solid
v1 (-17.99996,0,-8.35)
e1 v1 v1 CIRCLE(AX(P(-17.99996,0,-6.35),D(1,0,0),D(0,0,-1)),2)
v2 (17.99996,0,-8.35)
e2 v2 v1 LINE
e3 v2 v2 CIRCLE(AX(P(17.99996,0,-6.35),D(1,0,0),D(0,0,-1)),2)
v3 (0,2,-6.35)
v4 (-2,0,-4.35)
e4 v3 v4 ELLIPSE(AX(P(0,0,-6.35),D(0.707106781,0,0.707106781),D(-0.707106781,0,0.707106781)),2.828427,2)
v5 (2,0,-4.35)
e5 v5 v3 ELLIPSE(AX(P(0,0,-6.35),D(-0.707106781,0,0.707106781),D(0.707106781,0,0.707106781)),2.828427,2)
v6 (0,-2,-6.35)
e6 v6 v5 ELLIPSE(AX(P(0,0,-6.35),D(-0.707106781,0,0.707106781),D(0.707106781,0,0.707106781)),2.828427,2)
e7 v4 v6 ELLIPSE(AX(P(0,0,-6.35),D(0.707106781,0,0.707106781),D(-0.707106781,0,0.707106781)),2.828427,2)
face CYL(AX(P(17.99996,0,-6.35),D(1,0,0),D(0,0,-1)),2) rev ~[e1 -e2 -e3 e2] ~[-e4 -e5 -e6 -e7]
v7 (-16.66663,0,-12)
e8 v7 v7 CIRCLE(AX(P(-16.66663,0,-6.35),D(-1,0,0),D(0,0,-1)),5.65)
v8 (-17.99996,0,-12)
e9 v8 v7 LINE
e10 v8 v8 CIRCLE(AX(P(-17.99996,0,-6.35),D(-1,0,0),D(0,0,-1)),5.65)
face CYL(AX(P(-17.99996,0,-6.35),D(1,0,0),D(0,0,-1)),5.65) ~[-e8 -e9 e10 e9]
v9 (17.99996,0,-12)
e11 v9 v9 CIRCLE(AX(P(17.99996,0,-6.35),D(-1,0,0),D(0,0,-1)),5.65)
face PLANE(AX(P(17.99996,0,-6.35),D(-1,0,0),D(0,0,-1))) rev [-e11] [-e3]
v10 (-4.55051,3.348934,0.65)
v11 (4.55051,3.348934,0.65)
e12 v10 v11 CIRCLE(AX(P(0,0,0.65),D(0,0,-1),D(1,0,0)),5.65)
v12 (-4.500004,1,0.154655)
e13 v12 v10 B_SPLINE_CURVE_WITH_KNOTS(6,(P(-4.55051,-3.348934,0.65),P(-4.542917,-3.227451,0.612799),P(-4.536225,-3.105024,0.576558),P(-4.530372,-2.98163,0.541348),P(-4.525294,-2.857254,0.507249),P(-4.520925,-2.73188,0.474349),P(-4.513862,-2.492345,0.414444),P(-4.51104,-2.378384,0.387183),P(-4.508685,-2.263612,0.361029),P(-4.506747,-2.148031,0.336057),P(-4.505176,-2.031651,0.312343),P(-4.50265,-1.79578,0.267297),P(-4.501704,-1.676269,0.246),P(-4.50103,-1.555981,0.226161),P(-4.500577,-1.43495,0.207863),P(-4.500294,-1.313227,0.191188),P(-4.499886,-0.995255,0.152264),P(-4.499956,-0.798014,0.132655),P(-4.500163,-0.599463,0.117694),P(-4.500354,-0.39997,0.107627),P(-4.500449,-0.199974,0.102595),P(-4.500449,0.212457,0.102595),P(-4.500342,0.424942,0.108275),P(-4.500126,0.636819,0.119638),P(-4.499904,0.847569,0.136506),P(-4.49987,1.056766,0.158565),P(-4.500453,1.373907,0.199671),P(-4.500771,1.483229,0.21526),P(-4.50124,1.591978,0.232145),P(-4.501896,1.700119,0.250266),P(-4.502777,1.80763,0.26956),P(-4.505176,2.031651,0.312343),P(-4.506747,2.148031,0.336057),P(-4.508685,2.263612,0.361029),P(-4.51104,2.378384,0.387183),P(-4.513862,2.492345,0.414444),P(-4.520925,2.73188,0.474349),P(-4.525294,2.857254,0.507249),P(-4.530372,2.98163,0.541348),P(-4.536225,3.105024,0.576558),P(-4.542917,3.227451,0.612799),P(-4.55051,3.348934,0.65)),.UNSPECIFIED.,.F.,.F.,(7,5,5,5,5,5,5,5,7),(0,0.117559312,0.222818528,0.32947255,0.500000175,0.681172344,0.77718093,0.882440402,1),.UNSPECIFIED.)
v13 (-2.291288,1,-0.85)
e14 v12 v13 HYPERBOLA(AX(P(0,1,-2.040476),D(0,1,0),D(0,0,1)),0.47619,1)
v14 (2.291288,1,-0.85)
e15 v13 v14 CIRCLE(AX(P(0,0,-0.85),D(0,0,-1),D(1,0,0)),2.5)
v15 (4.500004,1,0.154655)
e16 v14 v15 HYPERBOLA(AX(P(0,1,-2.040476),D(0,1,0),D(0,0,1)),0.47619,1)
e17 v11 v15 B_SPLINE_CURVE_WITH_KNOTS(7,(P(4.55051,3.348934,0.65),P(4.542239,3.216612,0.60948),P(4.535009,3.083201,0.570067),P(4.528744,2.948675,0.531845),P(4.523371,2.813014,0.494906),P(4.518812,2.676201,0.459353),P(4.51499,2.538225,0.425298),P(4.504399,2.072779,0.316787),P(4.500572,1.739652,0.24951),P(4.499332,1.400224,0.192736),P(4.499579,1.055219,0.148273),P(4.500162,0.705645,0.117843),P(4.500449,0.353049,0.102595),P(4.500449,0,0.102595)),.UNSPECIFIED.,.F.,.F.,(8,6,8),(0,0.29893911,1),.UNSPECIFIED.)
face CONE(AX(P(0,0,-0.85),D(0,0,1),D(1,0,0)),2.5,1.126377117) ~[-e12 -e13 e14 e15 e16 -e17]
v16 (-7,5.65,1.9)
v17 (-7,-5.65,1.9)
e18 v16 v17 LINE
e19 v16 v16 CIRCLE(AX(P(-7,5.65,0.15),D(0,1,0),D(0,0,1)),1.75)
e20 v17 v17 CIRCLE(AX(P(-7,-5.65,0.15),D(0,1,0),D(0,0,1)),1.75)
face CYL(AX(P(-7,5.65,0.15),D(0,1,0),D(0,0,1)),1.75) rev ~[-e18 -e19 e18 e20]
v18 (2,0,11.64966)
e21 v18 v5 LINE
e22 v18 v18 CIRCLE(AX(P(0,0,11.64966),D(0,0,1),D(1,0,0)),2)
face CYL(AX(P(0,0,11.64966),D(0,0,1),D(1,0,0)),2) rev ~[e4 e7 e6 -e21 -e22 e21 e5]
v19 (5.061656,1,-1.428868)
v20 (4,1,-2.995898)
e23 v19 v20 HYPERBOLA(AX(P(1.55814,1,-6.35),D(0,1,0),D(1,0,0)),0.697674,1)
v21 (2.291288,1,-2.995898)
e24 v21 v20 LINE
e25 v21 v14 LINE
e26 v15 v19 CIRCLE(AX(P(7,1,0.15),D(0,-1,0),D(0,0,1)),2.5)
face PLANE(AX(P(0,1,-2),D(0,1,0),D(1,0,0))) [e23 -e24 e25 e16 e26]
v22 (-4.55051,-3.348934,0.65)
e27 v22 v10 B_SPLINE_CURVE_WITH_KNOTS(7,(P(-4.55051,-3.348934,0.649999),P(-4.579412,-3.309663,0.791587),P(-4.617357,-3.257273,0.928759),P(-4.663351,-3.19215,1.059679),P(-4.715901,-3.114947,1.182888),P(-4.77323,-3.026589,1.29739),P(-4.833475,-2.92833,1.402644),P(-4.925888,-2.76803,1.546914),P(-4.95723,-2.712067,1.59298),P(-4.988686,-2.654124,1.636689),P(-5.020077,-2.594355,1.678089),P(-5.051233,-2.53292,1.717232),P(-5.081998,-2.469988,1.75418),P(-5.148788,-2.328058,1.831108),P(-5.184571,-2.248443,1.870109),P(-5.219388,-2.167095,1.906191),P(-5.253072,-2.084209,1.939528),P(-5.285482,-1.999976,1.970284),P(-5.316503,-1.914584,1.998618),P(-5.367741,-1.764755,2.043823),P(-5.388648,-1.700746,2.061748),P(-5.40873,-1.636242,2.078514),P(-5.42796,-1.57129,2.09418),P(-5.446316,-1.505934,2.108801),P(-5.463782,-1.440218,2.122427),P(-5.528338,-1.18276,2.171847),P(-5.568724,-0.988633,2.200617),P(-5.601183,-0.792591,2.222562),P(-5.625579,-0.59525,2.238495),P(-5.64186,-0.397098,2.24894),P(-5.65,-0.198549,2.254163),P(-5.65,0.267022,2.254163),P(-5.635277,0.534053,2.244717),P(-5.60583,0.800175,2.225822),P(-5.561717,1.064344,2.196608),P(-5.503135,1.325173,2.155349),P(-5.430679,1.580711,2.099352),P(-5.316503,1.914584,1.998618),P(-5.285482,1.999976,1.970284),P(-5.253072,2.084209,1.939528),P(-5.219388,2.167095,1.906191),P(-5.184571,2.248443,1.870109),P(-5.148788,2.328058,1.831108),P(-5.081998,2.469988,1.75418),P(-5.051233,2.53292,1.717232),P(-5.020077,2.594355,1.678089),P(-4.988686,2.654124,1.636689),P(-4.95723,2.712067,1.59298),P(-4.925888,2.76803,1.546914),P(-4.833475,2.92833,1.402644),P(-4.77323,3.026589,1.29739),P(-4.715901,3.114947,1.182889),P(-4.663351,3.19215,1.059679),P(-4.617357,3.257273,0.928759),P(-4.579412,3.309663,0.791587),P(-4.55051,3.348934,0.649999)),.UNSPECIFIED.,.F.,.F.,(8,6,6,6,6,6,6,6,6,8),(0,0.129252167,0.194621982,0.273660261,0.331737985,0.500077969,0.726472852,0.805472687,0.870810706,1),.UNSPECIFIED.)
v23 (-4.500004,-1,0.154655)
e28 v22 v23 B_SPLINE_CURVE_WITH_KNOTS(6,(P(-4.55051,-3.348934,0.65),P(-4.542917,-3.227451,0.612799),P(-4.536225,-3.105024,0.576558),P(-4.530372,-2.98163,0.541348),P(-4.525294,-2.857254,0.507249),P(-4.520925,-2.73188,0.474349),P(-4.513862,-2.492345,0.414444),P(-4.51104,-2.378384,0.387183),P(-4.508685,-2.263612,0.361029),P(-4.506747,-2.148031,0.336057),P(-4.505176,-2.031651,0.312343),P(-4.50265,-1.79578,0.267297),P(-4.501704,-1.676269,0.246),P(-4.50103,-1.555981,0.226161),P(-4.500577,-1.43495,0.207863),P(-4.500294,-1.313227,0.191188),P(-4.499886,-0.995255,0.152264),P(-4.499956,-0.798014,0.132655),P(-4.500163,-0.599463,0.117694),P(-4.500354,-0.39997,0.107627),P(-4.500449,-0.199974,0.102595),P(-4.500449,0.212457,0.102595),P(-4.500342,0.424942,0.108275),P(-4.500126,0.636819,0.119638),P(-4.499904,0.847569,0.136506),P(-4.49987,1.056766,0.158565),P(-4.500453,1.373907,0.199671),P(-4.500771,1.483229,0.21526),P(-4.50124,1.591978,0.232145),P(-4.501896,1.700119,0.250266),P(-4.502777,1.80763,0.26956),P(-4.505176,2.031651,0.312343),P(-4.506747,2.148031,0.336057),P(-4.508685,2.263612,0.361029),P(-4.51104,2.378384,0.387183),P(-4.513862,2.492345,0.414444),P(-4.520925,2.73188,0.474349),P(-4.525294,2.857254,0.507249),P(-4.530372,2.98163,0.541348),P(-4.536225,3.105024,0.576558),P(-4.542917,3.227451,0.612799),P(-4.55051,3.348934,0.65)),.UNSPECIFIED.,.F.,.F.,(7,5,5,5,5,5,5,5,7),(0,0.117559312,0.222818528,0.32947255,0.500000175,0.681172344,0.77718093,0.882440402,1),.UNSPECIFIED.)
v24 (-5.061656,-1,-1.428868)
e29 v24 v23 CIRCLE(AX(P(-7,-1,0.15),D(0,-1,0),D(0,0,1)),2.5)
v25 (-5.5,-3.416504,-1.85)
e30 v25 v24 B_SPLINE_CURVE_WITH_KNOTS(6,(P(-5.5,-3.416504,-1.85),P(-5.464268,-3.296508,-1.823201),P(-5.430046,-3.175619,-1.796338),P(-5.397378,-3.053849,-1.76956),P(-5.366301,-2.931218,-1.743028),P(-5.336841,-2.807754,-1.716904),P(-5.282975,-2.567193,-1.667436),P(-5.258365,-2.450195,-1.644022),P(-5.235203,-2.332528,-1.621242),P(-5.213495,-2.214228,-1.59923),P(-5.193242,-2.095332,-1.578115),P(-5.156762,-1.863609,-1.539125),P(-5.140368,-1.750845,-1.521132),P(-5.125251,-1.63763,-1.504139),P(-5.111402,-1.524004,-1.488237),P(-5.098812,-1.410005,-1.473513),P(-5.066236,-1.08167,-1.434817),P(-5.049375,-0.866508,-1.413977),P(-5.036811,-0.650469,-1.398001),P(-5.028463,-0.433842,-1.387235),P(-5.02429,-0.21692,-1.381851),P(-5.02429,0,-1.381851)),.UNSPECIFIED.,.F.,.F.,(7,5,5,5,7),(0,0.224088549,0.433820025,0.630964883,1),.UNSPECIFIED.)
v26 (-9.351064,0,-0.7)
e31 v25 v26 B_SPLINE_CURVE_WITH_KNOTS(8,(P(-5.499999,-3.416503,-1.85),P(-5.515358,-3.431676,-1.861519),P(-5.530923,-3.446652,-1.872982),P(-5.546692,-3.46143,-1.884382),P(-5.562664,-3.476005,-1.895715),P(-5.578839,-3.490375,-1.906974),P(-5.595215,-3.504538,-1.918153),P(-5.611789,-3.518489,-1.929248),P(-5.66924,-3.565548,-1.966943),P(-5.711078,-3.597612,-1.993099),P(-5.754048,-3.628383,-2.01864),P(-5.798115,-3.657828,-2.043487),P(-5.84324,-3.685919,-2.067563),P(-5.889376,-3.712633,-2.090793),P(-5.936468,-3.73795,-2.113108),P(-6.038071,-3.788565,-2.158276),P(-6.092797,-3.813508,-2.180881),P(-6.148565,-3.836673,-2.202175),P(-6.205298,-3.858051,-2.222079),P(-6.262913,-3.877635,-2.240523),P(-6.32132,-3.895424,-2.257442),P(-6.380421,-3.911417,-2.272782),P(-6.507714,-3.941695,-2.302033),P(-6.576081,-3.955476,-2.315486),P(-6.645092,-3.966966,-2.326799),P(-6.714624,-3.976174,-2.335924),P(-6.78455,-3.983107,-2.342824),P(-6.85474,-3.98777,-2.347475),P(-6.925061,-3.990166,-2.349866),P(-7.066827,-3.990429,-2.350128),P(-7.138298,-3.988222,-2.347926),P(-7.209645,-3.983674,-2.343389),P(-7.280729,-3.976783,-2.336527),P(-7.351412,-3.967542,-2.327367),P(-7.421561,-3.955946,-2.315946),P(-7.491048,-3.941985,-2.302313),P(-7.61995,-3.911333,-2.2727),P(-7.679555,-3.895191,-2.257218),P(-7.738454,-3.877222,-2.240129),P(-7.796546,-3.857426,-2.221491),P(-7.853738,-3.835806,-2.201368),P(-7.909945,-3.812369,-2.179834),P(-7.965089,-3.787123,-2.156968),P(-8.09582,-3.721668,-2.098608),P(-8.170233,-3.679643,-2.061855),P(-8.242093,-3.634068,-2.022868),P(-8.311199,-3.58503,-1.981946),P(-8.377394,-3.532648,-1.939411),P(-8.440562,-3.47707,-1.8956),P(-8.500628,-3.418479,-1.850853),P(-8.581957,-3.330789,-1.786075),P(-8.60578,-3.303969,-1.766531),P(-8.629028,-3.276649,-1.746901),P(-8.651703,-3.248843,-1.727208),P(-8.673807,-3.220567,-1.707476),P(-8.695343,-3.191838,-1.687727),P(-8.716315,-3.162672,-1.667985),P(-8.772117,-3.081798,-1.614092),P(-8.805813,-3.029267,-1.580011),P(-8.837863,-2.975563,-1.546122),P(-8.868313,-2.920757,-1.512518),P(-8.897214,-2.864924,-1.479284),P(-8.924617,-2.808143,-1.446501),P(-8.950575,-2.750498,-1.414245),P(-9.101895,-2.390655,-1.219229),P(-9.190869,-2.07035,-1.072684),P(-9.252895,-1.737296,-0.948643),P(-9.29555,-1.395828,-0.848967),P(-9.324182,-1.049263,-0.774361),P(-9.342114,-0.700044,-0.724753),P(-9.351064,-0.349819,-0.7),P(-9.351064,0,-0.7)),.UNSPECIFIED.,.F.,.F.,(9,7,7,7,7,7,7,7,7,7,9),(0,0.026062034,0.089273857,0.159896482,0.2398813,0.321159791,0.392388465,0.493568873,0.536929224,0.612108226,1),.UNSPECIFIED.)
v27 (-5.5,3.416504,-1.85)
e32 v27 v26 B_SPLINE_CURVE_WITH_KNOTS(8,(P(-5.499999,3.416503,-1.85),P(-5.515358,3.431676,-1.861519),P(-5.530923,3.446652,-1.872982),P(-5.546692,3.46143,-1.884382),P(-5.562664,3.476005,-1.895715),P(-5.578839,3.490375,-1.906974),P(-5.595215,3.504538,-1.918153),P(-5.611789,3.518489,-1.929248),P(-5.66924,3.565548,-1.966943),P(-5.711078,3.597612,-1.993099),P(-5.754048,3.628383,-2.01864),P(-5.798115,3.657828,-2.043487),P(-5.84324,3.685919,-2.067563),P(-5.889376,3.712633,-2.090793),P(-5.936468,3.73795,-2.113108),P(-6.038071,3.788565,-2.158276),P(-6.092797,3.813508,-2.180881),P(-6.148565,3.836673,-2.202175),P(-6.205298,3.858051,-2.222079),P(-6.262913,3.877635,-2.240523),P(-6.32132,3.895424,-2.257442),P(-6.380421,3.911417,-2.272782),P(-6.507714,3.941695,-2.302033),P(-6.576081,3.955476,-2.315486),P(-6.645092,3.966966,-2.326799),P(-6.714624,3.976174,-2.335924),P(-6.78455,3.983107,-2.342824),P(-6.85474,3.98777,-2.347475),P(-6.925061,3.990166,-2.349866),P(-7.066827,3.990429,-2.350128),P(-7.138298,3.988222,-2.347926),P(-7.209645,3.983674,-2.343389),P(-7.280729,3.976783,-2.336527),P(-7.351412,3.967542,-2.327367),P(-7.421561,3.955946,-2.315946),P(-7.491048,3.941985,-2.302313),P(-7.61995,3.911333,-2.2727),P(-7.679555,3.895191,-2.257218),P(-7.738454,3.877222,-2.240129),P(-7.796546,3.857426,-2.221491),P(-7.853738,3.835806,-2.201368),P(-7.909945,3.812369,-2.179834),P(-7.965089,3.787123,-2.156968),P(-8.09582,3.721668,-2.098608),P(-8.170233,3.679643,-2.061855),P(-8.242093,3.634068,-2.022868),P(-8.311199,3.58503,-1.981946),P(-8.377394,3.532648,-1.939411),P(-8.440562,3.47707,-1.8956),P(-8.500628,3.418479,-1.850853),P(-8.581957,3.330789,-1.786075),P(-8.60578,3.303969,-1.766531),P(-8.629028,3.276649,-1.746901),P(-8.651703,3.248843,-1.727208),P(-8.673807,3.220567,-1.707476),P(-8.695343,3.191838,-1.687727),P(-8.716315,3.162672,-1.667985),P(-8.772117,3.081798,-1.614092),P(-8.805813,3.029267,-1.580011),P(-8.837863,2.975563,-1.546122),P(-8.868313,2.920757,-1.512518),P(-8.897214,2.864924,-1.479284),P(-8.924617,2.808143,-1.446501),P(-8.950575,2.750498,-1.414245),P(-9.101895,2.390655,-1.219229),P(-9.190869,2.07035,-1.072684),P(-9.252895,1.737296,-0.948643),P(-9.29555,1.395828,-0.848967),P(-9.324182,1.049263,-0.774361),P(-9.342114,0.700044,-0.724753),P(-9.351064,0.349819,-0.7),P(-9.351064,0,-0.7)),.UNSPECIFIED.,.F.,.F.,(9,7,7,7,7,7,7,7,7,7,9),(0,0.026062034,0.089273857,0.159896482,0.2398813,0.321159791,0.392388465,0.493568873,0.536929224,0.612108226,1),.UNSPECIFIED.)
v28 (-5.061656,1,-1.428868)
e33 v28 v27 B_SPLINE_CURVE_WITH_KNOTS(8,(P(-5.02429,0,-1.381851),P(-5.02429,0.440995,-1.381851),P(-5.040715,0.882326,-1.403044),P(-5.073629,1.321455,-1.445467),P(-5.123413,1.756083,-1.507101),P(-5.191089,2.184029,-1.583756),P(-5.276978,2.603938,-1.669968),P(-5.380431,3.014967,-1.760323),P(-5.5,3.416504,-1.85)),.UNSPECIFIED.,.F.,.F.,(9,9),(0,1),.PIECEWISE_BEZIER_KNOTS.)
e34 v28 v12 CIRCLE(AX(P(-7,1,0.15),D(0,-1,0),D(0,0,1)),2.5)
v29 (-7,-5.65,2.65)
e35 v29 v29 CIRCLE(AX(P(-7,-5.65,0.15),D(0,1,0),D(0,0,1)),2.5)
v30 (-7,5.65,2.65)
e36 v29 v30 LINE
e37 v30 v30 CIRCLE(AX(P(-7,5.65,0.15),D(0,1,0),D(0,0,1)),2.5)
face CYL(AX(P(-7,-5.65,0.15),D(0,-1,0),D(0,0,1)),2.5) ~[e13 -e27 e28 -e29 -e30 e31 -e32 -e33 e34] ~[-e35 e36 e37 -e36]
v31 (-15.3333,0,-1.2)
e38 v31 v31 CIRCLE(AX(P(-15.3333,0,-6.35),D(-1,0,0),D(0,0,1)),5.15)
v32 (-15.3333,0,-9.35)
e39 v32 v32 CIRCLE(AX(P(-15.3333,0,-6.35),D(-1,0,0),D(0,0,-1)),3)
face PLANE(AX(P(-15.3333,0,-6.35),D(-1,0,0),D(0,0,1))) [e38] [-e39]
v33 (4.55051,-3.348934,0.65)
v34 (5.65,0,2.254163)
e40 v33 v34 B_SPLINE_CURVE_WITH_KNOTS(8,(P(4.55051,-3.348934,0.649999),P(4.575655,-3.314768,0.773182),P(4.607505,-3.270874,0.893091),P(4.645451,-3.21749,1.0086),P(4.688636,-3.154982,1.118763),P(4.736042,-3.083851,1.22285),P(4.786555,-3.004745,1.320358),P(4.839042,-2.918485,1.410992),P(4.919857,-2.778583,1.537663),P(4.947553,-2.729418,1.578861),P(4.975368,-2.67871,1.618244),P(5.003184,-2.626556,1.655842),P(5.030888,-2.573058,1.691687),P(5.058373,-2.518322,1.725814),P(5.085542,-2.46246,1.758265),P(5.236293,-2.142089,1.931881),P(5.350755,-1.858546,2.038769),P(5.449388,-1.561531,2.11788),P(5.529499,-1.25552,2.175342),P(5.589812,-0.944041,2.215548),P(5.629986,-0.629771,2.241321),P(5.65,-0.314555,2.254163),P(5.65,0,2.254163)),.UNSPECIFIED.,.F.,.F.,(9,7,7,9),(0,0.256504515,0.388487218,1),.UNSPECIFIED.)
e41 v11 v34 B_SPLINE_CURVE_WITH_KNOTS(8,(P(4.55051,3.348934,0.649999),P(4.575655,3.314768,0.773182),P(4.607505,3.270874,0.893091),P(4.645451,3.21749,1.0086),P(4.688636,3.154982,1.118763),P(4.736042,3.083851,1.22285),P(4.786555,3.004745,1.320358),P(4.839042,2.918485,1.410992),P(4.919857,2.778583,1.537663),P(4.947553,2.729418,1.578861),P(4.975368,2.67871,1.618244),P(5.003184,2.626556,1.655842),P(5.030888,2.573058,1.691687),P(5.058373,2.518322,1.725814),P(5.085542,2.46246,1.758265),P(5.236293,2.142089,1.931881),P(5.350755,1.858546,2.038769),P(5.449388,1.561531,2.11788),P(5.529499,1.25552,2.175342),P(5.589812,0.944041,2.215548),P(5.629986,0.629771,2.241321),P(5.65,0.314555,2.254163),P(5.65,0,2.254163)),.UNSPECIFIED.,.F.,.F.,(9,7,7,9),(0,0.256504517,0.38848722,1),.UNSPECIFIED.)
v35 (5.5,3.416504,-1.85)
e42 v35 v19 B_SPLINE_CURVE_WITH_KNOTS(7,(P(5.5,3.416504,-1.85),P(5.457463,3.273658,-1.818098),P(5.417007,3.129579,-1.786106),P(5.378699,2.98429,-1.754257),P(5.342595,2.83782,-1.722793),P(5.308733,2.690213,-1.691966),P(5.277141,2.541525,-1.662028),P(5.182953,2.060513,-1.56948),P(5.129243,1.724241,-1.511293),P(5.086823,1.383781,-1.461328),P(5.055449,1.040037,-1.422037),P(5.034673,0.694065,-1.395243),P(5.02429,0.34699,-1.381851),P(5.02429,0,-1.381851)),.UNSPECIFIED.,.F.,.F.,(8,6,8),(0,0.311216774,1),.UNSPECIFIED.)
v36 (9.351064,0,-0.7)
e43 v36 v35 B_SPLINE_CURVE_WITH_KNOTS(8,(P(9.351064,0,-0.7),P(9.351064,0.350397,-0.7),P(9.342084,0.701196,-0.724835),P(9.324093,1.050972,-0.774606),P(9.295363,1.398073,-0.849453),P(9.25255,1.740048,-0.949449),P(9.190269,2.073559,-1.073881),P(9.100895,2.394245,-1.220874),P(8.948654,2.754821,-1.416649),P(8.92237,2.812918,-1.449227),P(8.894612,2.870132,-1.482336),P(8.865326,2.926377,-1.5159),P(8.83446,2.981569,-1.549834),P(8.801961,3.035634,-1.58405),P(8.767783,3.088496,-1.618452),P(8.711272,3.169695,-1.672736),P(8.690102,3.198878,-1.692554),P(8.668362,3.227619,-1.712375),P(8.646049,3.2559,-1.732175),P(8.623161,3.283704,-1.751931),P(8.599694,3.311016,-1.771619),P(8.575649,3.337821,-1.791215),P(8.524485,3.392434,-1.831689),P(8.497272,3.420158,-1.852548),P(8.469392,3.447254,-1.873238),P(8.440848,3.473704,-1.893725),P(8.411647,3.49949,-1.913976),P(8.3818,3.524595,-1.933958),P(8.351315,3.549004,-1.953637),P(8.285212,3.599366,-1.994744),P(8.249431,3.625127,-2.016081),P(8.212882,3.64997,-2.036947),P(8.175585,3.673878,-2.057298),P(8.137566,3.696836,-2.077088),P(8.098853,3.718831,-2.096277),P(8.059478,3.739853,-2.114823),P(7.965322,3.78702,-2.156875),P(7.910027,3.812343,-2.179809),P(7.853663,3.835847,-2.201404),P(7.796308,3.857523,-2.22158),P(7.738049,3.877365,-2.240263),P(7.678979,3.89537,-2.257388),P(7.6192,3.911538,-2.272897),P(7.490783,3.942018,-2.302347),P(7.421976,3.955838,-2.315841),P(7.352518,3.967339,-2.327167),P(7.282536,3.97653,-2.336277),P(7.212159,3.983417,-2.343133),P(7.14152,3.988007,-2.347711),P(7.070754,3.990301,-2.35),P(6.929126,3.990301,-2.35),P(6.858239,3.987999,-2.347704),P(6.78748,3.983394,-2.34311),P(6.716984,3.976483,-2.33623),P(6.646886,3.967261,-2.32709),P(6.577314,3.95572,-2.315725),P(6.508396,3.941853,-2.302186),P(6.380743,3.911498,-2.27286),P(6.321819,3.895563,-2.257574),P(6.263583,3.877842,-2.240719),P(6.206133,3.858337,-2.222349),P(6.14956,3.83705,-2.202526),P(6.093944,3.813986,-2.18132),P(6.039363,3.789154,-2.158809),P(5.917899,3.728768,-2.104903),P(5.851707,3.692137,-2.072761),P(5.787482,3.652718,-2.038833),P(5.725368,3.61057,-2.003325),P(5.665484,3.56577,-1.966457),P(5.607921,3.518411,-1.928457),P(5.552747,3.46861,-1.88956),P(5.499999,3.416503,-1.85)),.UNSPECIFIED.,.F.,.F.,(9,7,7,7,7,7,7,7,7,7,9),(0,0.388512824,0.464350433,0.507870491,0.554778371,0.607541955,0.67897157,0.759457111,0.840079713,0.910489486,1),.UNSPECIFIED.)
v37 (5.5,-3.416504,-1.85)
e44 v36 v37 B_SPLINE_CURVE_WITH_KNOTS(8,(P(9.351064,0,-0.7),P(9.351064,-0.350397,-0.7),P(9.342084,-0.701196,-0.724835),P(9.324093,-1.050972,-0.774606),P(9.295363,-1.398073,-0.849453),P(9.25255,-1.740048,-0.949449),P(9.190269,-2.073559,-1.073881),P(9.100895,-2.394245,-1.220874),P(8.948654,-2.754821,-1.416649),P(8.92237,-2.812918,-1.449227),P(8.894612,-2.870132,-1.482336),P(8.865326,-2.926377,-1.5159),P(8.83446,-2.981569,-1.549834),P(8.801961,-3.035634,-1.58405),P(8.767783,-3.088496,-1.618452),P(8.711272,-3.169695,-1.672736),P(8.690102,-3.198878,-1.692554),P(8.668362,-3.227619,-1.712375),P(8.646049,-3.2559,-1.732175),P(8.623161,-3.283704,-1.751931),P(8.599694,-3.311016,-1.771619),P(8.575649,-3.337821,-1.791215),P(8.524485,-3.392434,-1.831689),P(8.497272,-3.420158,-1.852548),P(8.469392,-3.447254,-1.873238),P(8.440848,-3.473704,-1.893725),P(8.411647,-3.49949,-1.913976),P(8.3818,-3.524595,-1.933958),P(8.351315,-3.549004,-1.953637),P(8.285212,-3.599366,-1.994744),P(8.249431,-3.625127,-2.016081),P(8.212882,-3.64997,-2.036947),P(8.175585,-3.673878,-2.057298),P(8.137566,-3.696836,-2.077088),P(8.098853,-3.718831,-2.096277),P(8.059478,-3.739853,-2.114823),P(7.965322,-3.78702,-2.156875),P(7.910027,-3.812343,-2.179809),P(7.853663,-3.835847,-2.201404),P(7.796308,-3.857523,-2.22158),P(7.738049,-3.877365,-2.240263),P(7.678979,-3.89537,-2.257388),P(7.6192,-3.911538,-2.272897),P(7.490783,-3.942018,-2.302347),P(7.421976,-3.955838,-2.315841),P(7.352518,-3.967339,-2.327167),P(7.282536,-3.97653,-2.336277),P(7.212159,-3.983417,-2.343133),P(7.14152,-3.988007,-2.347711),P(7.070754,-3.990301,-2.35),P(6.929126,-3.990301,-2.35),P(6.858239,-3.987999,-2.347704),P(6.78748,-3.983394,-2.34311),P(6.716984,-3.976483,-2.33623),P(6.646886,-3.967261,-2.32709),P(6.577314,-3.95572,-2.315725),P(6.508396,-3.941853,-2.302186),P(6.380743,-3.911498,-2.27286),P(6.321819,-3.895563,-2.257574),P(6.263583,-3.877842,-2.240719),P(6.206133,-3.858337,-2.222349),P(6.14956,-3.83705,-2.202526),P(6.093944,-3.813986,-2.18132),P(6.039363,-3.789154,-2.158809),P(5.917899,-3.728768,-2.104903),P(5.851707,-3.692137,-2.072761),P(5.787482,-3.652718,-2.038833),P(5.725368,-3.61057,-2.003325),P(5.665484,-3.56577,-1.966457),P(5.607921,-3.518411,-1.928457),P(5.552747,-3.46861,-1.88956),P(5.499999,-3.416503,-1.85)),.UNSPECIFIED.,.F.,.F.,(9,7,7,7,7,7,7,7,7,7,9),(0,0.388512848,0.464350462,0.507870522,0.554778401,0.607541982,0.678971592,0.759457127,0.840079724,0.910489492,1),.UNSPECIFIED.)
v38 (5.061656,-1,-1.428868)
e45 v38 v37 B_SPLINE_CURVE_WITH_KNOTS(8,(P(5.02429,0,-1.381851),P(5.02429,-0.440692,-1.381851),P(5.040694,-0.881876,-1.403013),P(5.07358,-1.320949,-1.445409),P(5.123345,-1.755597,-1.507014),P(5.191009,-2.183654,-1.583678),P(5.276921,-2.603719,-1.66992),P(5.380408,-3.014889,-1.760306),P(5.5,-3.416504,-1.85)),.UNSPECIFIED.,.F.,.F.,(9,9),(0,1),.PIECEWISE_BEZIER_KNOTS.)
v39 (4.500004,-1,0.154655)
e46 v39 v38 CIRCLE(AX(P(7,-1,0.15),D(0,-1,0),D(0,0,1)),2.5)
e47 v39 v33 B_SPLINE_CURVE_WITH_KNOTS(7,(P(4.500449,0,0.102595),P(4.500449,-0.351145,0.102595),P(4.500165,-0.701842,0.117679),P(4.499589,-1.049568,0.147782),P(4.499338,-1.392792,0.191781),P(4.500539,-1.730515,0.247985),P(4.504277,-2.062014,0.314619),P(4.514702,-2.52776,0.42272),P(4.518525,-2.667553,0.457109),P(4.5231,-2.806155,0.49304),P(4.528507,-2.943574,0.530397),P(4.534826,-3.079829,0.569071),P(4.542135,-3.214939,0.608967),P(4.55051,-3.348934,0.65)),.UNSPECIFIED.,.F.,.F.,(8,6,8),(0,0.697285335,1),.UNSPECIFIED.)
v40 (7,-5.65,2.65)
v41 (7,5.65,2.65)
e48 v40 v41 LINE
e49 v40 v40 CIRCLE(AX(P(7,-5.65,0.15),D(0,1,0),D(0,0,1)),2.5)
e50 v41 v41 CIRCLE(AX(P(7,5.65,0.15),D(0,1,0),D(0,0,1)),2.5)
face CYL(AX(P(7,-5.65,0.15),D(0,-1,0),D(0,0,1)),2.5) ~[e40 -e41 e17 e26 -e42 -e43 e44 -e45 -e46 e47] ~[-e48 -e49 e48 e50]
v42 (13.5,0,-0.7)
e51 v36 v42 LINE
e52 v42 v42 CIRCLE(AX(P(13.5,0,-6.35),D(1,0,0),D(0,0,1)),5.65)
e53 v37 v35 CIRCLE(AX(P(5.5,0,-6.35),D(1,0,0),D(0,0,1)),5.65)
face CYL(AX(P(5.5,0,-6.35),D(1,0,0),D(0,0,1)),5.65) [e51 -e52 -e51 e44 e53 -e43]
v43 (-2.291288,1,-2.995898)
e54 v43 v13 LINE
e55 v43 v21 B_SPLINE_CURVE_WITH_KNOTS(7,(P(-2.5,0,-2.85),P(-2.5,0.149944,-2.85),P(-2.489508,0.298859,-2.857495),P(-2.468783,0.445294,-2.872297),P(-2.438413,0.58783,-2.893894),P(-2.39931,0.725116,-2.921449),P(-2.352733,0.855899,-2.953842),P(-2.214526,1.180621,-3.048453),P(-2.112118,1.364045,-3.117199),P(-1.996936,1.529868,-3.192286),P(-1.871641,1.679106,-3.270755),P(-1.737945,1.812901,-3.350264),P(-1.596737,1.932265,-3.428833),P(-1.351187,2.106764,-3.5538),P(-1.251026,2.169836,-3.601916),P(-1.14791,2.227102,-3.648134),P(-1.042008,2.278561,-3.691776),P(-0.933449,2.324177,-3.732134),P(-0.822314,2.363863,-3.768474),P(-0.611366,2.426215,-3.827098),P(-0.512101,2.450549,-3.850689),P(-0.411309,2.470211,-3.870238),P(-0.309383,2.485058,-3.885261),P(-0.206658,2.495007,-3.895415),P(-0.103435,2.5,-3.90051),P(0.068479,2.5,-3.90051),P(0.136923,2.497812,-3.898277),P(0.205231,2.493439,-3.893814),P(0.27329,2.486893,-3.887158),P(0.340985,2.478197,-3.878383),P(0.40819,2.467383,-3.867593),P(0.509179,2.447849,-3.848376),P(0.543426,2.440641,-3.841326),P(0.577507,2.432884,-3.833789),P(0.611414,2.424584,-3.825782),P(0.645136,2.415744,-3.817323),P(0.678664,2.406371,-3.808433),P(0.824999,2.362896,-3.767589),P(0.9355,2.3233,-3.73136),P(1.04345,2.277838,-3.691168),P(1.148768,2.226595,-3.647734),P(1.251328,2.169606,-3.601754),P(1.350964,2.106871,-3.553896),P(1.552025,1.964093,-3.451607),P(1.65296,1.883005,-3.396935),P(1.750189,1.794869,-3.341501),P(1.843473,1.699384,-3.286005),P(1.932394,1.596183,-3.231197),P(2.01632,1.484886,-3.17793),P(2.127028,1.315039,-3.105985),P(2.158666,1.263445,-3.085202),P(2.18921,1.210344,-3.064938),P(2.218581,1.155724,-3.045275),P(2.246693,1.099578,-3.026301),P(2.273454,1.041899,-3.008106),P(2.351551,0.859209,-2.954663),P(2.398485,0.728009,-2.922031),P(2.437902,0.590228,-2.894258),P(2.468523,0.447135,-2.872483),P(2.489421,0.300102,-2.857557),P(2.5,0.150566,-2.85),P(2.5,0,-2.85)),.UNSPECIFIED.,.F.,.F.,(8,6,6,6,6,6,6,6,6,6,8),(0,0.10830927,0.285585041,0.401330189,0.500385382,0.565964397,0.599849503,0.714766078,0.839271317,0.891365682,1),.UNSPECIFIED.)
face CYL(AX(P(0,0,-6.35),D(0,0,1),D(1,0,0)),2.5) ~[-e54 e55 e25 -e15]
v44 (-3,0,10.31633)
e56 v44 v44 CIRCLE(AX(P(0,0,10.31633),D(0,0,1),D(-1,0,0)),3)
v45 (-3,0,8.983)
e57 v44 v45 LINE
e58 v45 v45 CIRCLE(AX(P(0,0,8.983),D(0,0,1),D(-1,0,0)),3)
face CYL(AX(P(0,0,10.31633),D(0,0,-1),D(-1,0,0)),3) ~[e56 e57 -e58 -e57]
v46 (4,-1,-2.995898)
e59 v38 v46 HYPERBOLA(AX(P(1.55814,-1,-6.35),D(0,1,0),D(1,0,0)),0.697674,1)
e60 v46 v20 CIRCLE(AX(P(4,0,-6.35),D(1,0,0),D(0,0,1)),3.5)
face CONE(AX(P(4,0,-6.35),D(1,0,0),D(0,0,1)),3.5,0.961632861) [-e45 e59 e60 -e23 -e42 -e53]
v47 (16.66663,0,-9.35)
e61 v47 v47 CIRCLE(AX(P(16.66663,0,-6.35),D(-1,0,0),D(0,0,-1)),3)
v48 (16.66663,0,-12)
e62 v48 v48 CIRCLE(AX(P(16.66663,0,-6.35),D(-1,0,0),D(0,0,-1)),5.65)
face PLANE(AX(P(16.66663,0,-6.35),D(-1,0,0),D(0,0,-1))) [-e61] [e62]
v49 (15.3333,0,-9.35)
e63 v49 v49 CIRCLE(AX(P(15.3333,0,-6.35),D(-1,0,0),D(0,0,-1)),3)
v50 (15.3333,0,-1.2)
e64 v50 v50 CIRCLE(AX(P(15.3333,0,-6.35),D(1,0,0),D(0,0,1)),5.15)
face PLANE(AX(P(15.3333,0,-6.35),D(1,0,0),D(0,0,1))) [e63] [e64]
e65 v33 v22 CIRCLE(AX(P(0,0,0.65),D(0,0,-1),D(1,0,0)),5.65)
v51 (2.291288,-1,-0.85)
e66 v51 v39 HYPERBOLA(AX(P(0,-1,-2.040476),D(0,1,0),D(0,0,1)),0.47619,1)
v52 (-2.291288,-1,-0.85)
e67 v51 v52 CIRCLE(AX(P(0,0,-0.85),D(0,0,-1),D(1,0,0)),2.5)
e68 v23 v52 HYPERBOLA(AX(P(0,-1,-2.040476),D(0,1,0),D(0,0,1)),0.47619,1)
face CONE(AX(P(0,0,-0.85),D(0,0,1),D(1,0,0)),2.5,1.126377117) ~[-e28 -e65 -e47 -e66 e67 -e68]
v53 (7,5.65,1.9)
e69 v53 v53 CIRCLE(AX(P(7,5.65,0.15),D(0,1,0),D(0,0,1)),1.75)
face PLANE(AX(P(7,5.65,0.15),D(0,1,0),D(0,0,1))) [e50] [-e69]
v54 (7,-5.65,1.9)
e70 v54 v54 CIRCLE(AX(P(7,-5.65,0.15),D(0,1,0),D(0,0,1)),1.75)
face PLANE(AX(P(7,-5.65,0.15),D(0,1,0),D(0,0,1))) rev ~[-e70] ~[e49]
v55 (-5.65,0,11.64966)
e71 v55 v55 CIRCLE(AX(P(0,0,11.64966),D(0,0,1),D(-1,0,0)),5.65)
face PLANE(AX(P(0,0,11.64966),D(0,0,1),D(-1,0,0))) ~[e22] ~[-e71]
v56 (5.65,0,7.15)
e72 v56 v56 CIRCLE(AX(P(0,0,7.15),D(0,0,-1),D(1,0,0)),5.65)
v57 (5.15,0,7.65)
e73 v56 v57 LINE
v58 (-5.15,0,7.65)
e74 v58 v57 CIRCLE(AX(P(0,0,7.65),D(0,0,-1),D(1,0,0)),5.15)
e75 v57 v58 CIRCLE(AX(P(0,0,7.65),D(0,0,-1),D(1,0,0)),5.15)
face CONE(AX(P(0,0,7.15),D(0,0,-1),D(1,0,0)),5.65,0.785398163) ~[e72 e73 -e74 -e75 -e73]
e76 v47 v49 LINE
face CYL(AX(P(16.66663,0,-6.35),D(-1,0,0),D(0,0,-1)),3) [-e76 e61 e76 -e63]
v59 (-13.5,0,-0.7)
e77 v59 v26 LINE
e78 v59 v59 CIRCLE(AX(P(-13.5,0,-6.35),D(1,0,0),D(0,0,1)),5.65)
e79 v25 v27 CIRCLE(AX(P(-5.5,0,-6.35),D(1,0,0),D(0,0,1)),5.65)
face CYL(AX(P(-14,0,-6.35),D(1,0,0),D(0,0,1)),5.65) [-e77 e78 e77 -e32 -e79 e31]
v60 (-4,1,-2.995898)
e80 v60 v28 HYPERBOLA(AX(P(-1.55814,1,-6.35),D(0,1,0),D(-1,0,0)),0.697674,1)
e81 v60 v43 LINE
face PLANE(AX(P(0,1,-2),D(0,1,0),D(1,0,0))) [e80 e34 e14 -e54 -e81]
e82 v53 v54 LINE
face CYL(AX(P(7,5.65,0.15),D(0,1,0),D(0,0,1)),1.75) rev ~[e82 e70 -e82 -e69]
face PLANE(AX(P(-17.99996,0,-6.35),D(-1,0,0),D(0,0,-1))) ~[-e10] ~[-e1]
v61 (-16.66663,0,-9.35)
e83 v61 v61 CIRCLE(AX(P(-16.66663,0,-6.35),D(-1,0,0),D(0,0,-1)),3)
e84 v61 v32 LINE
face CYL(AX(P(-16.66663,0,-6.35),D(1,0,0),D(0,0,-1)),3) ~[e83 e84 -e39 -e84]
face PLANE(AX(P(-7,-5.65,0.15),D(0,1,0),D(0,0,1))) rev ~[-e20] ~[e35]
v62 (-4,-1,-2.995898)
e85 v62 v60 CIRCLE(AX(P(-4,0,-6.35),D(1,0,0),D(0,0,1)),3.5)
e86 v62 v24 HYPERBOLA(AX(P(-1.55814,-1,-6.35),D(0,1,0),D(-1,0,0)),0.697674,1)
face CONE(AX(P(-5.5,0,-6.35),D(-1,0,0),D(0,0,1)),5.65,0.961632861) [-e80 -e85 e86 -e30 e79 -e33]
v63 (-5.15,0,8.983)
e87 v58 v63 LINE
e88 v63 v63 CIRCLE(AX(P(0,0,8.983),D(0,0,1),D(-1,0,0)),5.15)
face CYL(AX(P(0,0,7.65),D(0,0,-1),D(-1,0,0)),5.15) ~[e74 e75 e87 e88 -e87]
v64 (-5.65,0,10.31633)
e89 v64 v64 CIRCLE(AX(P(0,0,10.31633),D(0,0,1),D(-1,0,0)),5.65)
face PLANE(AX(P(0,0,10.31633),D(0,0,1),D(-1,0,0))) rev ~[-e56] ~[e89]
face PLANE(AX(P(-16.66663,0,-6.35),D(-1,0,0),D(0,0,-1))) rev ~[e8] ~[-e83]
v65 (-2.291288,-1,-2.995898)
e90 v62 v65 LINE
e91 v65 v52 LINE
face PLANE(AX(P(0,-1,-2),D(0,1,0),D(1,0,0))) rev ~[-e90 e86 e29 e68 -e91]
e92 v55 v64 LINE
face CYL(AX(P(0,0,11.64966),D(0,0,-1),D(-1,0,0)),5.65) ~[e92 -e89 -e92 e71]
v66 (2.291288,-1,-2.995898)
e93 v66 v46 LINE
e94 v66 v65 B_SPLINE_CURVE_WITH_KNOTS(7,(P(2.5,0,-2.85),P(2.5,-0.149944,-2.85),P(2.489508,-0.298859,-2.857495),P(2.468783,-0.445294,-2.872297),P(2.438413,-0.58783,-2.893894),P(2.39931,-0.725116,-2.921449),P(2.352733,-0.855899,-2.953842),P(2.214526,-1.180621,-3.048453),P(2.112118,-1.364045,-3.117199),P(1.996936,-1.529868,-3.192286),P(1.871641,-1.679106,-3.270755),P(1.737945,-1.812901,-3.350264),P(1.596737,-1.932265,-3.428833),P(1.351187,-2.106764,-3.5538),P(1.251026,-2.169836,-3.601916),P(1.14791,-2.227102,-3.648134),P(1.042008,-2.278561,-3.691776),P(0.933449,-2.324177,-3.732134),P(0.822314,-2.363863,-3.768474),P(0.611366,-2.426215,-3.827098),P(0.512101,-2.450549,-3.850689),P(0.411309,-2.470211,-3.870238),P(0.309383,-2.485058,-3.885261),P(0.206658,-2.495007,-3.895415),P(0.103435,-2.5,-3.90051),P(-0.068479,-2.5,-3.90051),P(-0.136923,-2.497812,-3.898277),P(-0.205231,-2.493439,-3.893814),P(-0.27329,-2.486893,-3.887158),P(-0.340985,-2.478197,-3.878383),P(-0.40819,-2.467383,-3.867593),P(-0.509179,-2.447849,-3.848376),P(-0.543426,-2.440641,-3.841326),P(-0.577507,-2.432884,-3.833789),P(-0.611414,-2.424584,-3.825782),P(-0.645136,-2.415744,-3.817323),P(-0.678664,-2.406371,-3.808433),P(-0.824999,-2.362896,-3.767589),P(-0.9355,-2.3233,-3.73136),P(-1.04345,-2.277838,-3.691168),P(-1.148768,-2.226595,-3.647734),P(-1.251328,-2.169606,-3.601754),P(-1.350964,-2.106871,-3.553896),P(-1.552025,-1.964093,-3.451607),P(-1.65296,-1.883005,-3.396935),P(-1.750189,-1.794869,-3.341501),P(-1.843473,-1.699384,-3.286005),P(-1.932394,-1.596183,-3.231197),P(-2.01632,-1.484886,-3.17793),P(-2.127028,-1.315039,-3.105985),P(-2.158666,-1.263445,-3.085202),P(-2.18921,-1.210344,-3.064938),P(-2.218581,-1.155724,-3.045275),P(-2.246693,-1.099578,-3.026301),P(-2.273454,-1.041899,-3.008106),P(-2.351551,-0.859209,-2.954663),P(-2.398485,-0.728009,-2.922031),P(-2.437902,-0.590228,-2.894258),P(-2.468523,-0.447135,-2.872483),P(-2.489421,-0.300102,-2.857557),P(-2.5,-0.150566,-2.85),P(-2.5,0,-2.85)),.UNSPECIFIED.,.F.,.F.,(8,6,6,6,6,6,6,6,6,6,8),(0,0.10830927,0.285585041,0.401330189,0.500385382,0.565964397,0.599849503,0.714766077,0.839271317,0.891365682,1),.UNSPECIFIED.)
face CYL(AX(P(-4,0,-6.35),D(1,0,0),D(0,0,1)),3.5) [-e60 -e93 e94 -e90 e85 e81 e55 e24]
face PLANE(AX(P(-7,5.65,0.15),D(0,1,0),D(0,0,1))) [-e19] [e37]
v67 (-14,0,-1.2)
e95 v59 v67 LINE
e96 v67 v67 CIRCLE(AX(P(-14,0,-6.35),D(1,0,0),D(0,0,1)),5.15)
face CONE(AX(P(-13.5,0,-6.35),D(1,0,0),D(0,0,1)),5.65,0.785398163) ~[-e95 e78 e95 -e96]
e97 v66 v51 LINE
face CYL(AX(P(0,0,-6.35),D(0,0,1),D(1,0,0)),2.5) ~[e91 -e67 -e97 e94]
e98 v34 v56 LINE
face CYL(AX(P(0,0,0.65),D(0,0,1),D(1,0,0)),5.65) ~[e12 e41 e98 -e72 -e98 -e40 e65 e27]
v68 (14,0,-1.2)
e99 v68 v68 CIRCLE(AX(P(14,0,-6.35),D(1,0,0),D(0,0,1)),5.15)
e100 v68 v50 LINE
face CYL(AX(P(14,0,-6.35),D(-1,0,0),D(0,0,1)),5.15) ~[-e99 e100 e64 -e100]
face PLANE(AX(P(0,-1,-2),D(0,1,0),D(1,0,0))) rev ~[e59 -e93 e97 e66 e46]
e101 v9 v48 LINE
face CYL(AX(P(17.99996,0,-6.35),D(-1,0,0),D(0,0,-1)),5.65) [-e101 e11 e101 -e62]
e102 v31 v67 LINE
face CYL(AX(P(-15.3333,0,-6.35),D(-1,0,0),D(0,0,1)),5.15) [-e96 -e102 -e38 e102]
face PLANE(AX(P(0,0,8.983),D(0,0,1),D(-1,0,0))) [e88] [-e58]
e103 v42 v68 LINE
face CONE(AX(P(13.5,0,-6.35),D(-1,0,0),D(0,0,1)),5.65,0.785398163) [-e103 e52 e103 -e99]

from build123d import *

# Parameters (mm, degrees)
BOSS_EXTRUDE1_DEPTH      = 5.65
BOSS_EXTRUDE1_DEPTH_BACK = 5.65
SKETCH6_R                = 2.5
SKETCH7_R                = 1.75
CUT_EXTRUDE1_DEPTH       = 22.626141761
BOSS_EXTRUDE3_DEPTH      = 1
BOSS_EXTRUDE3_DEPTH_BACK = 1
SKETCH8_W                = 10.3
SKETCH8_H                = 5
CHAMFER1_SIZE            = 0.5
SKETCH9_R                = 5.15
BOSS_EXTRUDE4_DEPTH      = 1.3333
BOSS_EXTRUDE5_START      = 1.3333
SKETCH10_R               = 5.15
BOSS_EXTRUDE5_DEPTH      = 1.3333
SKETCH11_R               = 5.15
BOSS_EXTRUDE6_DEPTH      = 1.333
SKETCH14_R               = 2
CUT_EXTRUDE2_DEPTH       = 39.36556716
CUT_EXTRUDE3_REACH       = 32.253
CUT_EXTRUDE3_END_RADIUS  = 2
SKETCH16_R               = 2


with BuildPart() as part:
    # Sketch4 → Revolve1 (revolve)
    with BuildSketch(Plane(origin=(0, 0, 0), x_dir=(1, 0, 0), z_dir=(0, 1, 0)), mode=Mode.PRIVATE) as revolve1_sk:
        Polygon((-14, 6.35), (-14, 12), (-5.5, 12), (-4, 9.85), (4, 9.85), (5.5, 12), (14, 12), (14, 6.35), align=None)
    revolve(revolve1_sk.sketch.rotate(Axis((-14, 0, -6.35), (1, 0, 0)), 180), axis=Axis((-14, 0, -6.35), (1, 0, 0)))

    # Sketch5 → Revolve2 (revolve)
    with BuildSketch(Plane(origin=(0, 0, 0), x_dir=(1, 0, 0), z_dir=(0, 1, 0)), mode=Mode.PRIVATE) as revolve2_sk:
        Polygon((-2.5, 2.85), (-2.5, 0.85), (-5.65, -0.65), (-5.65, -7.65), (0, -7.65), (0, 6.35), (-2.5, 6.35), align=None)
    revolve(revolve2_sk.sketch.rotate(Axis((0, 0, 7.65), (0, 0, -1)), 180), axis=Axis((0, 0, 7.65), (0, 0, -1)))

    # Sketch6 → Boss-Extrude1 (add, two sides: drawn at the far end of the back side and taken through both)
    with BuildSketch(Plane(origin=(0, 0, 0), x_dir=(1, 0, 0), z_dir=(0, 1, 0)).offset(-BOSS_EXTRUDE1_DEPTH_BACK)):
        with Locations(Location((-7, -0.15, 0), (0, 0, 270))):
            Circle(SKETCH6_R)
        with Locations(Location((7, -0.15, 0), (0, 0, 270))):
            Circle(SKETCH6_R)
    extrude(amount=BOSS_EXTRUDE1_DEPTH + BOSS_EXTRUDE1_DEPTH_BACK)

    # Sketch7 → Cut-Extrude1 (cut, through all)
    with BuildSketch(Plane(origin=(0, 5.65, 0), x_dir=(1, 0, 0), z_dir=(0, 1, 0))):
        with Locations(Location((7, -0.15, 0), (0, 0, 270))):
            Circle(SKETCH7_R)
        with Locations(Location((-7, -0.15, 0), (0, 0, 270))):
            Circle(SKETCH7_R)
    extrude(amount=-CUT_EXTRUDE1_DEPTH, mode=Mode.SUBTRACT)

    # Sketch8 → Boss-Extrude3 (add, two sides: drawn at the far end of the back side and taken through both)
    with BuildSketch(Plane(origin=(0, 0, 0), x_dir=(1, 0, 0), z_dir=(0, 1, 0)).offset(-BOSS_EXTRUDE3_DEPTH_BACK)):
        with Locations((0, 2)):
            Rectangle(SKETCH8_W, SKETCH8_H)
    extrude(amount=BOSS_EXTRUDE3_DEPTH + BOSS_EXTRUDE3_DEPTH_BACK)

    # Chamfer1
    chamfer1_edges = [part.edges().sort_by_distance(p)[0] for p in [
        (14, 0, -12),
        (-5.65, 0, 7.65),
        (-14, 0, -12),
    ]]
    chamfer(chamfer1_edges, length=CHAMFER1_SIZE)

    # Sketch9 → Boss-Extrude4 (add)
    with BuildSketch(Plane(origin=(14, 0, 0), x_dir=(0, 0, -1), z_dir=(1, 0, 0))):
        with Locations(Location((6.35, 0, 0), (0, 0, 180))):
            Circle(SKETCH9_R)
    extrude(amount=BOSS_EXTRUDE4_DEPTH)

    # Sketch10 → Boss-Extrude5 (add)
    with BuildSketch(Plane.ZY.offset(14).offset(BOSS_EXTRUDE5_START)):
        with Locations((-6.35, 0)):
            Circle(SKETCH10_R)
    extrude(amount=-BOSS_EXTRUDE5_DEPTH)

    # Sketch11 → Boss-Extrude6 (add)
    with BuildSketch(Plane.XY.offset(7.65)):
        with Locations(Location((0, 0, 0), (0, 0, 180))):
            Circle(SKETCH11_R)
    extrude(amount=BOSS_EXTRUDE6_DEPTH)

    # Sketch12 → Revolve3 (revolve)
    with BuildSketch(Plane(origin=(0, 0, 0), x_dir=(1, 0, 0), z_dir=(0, 1, 0))):
        Polygon((15.3333, 6.35), (17.99996, 6.35), (17.99996, 12), (16.66663, 12), (16.66663, 9.35), (15.3333, 9.35), align=None)
        Polygon((-16.66663, 9.35), (-15.3333, 9.35), (-15.3333, 6.35), (-17.99996, 6.35), (-17.99996, 12), (-16.66663, 12), align=None)
    revolve(axis=Axis((-15.3333, 0, -6.35), (-1, 0, 0)))

    # Sketch13 → Revolve4 (revolve)
    with BuildSketch(Plane(origin=(0, 0, 0), x_dir=(1, 0, 0), z_dir=(0, 1, 0))):
        Polygon((0, -8.983), (0, -11.64966), (-5.65, -11.64966), (-5.65, -10.31633), (-3, -10.31633), (-3, -8.983), align=None)
    revolve(axis=Axis((0, 0, 8.983), (0, 0, 1)))

    # Sketch14 → Cut-Extrude2 (cut, through all)
    with BuildSketch(Plane(origin=(17.99996, 0, 0), x_dir=(0, 0, -1), z_dir=(1, 0, 0))):
        with Locations((6.35, 0)):
            Circle(SKETCH14_R)
    extrude(amount=-CUT_EXTRUDE2_DEPTH, mode=Mode.SUBTRACT)

    # Cut-Extrude3: up to this cylinder (the profile starts outside it)
    cut_extrude3_end = Plane(origin=(0, 0, -6.35), z_dir=(1, 0, 0)) * Cylinder(CUT_EXTRUDE3_END_RADIUS, 69.506, mode=Mode.PRIVATE)
    # Sketch16 → Cut-Extrude3 (cut, up to the surface)
    with BuildSketch(Plane.XY.offset(11.64966), mode=Mode.PRIVATE) as cut_extrude3_sk1:
        Circle(SKETCH16_R)
    cut_extrude3_tool1 = extrude(cut_extrude3_sk1.sketch, amount=-CUT_EXTRUDE3_REACH, mode=Mode.PRIVATE) - cut_extrude3_end
    add(cut_extrude3_tool1.solids().sort_by_distance((0, 0, 11.64966))[0], mode=Mode.SUBTRACT)


solid = part.part
